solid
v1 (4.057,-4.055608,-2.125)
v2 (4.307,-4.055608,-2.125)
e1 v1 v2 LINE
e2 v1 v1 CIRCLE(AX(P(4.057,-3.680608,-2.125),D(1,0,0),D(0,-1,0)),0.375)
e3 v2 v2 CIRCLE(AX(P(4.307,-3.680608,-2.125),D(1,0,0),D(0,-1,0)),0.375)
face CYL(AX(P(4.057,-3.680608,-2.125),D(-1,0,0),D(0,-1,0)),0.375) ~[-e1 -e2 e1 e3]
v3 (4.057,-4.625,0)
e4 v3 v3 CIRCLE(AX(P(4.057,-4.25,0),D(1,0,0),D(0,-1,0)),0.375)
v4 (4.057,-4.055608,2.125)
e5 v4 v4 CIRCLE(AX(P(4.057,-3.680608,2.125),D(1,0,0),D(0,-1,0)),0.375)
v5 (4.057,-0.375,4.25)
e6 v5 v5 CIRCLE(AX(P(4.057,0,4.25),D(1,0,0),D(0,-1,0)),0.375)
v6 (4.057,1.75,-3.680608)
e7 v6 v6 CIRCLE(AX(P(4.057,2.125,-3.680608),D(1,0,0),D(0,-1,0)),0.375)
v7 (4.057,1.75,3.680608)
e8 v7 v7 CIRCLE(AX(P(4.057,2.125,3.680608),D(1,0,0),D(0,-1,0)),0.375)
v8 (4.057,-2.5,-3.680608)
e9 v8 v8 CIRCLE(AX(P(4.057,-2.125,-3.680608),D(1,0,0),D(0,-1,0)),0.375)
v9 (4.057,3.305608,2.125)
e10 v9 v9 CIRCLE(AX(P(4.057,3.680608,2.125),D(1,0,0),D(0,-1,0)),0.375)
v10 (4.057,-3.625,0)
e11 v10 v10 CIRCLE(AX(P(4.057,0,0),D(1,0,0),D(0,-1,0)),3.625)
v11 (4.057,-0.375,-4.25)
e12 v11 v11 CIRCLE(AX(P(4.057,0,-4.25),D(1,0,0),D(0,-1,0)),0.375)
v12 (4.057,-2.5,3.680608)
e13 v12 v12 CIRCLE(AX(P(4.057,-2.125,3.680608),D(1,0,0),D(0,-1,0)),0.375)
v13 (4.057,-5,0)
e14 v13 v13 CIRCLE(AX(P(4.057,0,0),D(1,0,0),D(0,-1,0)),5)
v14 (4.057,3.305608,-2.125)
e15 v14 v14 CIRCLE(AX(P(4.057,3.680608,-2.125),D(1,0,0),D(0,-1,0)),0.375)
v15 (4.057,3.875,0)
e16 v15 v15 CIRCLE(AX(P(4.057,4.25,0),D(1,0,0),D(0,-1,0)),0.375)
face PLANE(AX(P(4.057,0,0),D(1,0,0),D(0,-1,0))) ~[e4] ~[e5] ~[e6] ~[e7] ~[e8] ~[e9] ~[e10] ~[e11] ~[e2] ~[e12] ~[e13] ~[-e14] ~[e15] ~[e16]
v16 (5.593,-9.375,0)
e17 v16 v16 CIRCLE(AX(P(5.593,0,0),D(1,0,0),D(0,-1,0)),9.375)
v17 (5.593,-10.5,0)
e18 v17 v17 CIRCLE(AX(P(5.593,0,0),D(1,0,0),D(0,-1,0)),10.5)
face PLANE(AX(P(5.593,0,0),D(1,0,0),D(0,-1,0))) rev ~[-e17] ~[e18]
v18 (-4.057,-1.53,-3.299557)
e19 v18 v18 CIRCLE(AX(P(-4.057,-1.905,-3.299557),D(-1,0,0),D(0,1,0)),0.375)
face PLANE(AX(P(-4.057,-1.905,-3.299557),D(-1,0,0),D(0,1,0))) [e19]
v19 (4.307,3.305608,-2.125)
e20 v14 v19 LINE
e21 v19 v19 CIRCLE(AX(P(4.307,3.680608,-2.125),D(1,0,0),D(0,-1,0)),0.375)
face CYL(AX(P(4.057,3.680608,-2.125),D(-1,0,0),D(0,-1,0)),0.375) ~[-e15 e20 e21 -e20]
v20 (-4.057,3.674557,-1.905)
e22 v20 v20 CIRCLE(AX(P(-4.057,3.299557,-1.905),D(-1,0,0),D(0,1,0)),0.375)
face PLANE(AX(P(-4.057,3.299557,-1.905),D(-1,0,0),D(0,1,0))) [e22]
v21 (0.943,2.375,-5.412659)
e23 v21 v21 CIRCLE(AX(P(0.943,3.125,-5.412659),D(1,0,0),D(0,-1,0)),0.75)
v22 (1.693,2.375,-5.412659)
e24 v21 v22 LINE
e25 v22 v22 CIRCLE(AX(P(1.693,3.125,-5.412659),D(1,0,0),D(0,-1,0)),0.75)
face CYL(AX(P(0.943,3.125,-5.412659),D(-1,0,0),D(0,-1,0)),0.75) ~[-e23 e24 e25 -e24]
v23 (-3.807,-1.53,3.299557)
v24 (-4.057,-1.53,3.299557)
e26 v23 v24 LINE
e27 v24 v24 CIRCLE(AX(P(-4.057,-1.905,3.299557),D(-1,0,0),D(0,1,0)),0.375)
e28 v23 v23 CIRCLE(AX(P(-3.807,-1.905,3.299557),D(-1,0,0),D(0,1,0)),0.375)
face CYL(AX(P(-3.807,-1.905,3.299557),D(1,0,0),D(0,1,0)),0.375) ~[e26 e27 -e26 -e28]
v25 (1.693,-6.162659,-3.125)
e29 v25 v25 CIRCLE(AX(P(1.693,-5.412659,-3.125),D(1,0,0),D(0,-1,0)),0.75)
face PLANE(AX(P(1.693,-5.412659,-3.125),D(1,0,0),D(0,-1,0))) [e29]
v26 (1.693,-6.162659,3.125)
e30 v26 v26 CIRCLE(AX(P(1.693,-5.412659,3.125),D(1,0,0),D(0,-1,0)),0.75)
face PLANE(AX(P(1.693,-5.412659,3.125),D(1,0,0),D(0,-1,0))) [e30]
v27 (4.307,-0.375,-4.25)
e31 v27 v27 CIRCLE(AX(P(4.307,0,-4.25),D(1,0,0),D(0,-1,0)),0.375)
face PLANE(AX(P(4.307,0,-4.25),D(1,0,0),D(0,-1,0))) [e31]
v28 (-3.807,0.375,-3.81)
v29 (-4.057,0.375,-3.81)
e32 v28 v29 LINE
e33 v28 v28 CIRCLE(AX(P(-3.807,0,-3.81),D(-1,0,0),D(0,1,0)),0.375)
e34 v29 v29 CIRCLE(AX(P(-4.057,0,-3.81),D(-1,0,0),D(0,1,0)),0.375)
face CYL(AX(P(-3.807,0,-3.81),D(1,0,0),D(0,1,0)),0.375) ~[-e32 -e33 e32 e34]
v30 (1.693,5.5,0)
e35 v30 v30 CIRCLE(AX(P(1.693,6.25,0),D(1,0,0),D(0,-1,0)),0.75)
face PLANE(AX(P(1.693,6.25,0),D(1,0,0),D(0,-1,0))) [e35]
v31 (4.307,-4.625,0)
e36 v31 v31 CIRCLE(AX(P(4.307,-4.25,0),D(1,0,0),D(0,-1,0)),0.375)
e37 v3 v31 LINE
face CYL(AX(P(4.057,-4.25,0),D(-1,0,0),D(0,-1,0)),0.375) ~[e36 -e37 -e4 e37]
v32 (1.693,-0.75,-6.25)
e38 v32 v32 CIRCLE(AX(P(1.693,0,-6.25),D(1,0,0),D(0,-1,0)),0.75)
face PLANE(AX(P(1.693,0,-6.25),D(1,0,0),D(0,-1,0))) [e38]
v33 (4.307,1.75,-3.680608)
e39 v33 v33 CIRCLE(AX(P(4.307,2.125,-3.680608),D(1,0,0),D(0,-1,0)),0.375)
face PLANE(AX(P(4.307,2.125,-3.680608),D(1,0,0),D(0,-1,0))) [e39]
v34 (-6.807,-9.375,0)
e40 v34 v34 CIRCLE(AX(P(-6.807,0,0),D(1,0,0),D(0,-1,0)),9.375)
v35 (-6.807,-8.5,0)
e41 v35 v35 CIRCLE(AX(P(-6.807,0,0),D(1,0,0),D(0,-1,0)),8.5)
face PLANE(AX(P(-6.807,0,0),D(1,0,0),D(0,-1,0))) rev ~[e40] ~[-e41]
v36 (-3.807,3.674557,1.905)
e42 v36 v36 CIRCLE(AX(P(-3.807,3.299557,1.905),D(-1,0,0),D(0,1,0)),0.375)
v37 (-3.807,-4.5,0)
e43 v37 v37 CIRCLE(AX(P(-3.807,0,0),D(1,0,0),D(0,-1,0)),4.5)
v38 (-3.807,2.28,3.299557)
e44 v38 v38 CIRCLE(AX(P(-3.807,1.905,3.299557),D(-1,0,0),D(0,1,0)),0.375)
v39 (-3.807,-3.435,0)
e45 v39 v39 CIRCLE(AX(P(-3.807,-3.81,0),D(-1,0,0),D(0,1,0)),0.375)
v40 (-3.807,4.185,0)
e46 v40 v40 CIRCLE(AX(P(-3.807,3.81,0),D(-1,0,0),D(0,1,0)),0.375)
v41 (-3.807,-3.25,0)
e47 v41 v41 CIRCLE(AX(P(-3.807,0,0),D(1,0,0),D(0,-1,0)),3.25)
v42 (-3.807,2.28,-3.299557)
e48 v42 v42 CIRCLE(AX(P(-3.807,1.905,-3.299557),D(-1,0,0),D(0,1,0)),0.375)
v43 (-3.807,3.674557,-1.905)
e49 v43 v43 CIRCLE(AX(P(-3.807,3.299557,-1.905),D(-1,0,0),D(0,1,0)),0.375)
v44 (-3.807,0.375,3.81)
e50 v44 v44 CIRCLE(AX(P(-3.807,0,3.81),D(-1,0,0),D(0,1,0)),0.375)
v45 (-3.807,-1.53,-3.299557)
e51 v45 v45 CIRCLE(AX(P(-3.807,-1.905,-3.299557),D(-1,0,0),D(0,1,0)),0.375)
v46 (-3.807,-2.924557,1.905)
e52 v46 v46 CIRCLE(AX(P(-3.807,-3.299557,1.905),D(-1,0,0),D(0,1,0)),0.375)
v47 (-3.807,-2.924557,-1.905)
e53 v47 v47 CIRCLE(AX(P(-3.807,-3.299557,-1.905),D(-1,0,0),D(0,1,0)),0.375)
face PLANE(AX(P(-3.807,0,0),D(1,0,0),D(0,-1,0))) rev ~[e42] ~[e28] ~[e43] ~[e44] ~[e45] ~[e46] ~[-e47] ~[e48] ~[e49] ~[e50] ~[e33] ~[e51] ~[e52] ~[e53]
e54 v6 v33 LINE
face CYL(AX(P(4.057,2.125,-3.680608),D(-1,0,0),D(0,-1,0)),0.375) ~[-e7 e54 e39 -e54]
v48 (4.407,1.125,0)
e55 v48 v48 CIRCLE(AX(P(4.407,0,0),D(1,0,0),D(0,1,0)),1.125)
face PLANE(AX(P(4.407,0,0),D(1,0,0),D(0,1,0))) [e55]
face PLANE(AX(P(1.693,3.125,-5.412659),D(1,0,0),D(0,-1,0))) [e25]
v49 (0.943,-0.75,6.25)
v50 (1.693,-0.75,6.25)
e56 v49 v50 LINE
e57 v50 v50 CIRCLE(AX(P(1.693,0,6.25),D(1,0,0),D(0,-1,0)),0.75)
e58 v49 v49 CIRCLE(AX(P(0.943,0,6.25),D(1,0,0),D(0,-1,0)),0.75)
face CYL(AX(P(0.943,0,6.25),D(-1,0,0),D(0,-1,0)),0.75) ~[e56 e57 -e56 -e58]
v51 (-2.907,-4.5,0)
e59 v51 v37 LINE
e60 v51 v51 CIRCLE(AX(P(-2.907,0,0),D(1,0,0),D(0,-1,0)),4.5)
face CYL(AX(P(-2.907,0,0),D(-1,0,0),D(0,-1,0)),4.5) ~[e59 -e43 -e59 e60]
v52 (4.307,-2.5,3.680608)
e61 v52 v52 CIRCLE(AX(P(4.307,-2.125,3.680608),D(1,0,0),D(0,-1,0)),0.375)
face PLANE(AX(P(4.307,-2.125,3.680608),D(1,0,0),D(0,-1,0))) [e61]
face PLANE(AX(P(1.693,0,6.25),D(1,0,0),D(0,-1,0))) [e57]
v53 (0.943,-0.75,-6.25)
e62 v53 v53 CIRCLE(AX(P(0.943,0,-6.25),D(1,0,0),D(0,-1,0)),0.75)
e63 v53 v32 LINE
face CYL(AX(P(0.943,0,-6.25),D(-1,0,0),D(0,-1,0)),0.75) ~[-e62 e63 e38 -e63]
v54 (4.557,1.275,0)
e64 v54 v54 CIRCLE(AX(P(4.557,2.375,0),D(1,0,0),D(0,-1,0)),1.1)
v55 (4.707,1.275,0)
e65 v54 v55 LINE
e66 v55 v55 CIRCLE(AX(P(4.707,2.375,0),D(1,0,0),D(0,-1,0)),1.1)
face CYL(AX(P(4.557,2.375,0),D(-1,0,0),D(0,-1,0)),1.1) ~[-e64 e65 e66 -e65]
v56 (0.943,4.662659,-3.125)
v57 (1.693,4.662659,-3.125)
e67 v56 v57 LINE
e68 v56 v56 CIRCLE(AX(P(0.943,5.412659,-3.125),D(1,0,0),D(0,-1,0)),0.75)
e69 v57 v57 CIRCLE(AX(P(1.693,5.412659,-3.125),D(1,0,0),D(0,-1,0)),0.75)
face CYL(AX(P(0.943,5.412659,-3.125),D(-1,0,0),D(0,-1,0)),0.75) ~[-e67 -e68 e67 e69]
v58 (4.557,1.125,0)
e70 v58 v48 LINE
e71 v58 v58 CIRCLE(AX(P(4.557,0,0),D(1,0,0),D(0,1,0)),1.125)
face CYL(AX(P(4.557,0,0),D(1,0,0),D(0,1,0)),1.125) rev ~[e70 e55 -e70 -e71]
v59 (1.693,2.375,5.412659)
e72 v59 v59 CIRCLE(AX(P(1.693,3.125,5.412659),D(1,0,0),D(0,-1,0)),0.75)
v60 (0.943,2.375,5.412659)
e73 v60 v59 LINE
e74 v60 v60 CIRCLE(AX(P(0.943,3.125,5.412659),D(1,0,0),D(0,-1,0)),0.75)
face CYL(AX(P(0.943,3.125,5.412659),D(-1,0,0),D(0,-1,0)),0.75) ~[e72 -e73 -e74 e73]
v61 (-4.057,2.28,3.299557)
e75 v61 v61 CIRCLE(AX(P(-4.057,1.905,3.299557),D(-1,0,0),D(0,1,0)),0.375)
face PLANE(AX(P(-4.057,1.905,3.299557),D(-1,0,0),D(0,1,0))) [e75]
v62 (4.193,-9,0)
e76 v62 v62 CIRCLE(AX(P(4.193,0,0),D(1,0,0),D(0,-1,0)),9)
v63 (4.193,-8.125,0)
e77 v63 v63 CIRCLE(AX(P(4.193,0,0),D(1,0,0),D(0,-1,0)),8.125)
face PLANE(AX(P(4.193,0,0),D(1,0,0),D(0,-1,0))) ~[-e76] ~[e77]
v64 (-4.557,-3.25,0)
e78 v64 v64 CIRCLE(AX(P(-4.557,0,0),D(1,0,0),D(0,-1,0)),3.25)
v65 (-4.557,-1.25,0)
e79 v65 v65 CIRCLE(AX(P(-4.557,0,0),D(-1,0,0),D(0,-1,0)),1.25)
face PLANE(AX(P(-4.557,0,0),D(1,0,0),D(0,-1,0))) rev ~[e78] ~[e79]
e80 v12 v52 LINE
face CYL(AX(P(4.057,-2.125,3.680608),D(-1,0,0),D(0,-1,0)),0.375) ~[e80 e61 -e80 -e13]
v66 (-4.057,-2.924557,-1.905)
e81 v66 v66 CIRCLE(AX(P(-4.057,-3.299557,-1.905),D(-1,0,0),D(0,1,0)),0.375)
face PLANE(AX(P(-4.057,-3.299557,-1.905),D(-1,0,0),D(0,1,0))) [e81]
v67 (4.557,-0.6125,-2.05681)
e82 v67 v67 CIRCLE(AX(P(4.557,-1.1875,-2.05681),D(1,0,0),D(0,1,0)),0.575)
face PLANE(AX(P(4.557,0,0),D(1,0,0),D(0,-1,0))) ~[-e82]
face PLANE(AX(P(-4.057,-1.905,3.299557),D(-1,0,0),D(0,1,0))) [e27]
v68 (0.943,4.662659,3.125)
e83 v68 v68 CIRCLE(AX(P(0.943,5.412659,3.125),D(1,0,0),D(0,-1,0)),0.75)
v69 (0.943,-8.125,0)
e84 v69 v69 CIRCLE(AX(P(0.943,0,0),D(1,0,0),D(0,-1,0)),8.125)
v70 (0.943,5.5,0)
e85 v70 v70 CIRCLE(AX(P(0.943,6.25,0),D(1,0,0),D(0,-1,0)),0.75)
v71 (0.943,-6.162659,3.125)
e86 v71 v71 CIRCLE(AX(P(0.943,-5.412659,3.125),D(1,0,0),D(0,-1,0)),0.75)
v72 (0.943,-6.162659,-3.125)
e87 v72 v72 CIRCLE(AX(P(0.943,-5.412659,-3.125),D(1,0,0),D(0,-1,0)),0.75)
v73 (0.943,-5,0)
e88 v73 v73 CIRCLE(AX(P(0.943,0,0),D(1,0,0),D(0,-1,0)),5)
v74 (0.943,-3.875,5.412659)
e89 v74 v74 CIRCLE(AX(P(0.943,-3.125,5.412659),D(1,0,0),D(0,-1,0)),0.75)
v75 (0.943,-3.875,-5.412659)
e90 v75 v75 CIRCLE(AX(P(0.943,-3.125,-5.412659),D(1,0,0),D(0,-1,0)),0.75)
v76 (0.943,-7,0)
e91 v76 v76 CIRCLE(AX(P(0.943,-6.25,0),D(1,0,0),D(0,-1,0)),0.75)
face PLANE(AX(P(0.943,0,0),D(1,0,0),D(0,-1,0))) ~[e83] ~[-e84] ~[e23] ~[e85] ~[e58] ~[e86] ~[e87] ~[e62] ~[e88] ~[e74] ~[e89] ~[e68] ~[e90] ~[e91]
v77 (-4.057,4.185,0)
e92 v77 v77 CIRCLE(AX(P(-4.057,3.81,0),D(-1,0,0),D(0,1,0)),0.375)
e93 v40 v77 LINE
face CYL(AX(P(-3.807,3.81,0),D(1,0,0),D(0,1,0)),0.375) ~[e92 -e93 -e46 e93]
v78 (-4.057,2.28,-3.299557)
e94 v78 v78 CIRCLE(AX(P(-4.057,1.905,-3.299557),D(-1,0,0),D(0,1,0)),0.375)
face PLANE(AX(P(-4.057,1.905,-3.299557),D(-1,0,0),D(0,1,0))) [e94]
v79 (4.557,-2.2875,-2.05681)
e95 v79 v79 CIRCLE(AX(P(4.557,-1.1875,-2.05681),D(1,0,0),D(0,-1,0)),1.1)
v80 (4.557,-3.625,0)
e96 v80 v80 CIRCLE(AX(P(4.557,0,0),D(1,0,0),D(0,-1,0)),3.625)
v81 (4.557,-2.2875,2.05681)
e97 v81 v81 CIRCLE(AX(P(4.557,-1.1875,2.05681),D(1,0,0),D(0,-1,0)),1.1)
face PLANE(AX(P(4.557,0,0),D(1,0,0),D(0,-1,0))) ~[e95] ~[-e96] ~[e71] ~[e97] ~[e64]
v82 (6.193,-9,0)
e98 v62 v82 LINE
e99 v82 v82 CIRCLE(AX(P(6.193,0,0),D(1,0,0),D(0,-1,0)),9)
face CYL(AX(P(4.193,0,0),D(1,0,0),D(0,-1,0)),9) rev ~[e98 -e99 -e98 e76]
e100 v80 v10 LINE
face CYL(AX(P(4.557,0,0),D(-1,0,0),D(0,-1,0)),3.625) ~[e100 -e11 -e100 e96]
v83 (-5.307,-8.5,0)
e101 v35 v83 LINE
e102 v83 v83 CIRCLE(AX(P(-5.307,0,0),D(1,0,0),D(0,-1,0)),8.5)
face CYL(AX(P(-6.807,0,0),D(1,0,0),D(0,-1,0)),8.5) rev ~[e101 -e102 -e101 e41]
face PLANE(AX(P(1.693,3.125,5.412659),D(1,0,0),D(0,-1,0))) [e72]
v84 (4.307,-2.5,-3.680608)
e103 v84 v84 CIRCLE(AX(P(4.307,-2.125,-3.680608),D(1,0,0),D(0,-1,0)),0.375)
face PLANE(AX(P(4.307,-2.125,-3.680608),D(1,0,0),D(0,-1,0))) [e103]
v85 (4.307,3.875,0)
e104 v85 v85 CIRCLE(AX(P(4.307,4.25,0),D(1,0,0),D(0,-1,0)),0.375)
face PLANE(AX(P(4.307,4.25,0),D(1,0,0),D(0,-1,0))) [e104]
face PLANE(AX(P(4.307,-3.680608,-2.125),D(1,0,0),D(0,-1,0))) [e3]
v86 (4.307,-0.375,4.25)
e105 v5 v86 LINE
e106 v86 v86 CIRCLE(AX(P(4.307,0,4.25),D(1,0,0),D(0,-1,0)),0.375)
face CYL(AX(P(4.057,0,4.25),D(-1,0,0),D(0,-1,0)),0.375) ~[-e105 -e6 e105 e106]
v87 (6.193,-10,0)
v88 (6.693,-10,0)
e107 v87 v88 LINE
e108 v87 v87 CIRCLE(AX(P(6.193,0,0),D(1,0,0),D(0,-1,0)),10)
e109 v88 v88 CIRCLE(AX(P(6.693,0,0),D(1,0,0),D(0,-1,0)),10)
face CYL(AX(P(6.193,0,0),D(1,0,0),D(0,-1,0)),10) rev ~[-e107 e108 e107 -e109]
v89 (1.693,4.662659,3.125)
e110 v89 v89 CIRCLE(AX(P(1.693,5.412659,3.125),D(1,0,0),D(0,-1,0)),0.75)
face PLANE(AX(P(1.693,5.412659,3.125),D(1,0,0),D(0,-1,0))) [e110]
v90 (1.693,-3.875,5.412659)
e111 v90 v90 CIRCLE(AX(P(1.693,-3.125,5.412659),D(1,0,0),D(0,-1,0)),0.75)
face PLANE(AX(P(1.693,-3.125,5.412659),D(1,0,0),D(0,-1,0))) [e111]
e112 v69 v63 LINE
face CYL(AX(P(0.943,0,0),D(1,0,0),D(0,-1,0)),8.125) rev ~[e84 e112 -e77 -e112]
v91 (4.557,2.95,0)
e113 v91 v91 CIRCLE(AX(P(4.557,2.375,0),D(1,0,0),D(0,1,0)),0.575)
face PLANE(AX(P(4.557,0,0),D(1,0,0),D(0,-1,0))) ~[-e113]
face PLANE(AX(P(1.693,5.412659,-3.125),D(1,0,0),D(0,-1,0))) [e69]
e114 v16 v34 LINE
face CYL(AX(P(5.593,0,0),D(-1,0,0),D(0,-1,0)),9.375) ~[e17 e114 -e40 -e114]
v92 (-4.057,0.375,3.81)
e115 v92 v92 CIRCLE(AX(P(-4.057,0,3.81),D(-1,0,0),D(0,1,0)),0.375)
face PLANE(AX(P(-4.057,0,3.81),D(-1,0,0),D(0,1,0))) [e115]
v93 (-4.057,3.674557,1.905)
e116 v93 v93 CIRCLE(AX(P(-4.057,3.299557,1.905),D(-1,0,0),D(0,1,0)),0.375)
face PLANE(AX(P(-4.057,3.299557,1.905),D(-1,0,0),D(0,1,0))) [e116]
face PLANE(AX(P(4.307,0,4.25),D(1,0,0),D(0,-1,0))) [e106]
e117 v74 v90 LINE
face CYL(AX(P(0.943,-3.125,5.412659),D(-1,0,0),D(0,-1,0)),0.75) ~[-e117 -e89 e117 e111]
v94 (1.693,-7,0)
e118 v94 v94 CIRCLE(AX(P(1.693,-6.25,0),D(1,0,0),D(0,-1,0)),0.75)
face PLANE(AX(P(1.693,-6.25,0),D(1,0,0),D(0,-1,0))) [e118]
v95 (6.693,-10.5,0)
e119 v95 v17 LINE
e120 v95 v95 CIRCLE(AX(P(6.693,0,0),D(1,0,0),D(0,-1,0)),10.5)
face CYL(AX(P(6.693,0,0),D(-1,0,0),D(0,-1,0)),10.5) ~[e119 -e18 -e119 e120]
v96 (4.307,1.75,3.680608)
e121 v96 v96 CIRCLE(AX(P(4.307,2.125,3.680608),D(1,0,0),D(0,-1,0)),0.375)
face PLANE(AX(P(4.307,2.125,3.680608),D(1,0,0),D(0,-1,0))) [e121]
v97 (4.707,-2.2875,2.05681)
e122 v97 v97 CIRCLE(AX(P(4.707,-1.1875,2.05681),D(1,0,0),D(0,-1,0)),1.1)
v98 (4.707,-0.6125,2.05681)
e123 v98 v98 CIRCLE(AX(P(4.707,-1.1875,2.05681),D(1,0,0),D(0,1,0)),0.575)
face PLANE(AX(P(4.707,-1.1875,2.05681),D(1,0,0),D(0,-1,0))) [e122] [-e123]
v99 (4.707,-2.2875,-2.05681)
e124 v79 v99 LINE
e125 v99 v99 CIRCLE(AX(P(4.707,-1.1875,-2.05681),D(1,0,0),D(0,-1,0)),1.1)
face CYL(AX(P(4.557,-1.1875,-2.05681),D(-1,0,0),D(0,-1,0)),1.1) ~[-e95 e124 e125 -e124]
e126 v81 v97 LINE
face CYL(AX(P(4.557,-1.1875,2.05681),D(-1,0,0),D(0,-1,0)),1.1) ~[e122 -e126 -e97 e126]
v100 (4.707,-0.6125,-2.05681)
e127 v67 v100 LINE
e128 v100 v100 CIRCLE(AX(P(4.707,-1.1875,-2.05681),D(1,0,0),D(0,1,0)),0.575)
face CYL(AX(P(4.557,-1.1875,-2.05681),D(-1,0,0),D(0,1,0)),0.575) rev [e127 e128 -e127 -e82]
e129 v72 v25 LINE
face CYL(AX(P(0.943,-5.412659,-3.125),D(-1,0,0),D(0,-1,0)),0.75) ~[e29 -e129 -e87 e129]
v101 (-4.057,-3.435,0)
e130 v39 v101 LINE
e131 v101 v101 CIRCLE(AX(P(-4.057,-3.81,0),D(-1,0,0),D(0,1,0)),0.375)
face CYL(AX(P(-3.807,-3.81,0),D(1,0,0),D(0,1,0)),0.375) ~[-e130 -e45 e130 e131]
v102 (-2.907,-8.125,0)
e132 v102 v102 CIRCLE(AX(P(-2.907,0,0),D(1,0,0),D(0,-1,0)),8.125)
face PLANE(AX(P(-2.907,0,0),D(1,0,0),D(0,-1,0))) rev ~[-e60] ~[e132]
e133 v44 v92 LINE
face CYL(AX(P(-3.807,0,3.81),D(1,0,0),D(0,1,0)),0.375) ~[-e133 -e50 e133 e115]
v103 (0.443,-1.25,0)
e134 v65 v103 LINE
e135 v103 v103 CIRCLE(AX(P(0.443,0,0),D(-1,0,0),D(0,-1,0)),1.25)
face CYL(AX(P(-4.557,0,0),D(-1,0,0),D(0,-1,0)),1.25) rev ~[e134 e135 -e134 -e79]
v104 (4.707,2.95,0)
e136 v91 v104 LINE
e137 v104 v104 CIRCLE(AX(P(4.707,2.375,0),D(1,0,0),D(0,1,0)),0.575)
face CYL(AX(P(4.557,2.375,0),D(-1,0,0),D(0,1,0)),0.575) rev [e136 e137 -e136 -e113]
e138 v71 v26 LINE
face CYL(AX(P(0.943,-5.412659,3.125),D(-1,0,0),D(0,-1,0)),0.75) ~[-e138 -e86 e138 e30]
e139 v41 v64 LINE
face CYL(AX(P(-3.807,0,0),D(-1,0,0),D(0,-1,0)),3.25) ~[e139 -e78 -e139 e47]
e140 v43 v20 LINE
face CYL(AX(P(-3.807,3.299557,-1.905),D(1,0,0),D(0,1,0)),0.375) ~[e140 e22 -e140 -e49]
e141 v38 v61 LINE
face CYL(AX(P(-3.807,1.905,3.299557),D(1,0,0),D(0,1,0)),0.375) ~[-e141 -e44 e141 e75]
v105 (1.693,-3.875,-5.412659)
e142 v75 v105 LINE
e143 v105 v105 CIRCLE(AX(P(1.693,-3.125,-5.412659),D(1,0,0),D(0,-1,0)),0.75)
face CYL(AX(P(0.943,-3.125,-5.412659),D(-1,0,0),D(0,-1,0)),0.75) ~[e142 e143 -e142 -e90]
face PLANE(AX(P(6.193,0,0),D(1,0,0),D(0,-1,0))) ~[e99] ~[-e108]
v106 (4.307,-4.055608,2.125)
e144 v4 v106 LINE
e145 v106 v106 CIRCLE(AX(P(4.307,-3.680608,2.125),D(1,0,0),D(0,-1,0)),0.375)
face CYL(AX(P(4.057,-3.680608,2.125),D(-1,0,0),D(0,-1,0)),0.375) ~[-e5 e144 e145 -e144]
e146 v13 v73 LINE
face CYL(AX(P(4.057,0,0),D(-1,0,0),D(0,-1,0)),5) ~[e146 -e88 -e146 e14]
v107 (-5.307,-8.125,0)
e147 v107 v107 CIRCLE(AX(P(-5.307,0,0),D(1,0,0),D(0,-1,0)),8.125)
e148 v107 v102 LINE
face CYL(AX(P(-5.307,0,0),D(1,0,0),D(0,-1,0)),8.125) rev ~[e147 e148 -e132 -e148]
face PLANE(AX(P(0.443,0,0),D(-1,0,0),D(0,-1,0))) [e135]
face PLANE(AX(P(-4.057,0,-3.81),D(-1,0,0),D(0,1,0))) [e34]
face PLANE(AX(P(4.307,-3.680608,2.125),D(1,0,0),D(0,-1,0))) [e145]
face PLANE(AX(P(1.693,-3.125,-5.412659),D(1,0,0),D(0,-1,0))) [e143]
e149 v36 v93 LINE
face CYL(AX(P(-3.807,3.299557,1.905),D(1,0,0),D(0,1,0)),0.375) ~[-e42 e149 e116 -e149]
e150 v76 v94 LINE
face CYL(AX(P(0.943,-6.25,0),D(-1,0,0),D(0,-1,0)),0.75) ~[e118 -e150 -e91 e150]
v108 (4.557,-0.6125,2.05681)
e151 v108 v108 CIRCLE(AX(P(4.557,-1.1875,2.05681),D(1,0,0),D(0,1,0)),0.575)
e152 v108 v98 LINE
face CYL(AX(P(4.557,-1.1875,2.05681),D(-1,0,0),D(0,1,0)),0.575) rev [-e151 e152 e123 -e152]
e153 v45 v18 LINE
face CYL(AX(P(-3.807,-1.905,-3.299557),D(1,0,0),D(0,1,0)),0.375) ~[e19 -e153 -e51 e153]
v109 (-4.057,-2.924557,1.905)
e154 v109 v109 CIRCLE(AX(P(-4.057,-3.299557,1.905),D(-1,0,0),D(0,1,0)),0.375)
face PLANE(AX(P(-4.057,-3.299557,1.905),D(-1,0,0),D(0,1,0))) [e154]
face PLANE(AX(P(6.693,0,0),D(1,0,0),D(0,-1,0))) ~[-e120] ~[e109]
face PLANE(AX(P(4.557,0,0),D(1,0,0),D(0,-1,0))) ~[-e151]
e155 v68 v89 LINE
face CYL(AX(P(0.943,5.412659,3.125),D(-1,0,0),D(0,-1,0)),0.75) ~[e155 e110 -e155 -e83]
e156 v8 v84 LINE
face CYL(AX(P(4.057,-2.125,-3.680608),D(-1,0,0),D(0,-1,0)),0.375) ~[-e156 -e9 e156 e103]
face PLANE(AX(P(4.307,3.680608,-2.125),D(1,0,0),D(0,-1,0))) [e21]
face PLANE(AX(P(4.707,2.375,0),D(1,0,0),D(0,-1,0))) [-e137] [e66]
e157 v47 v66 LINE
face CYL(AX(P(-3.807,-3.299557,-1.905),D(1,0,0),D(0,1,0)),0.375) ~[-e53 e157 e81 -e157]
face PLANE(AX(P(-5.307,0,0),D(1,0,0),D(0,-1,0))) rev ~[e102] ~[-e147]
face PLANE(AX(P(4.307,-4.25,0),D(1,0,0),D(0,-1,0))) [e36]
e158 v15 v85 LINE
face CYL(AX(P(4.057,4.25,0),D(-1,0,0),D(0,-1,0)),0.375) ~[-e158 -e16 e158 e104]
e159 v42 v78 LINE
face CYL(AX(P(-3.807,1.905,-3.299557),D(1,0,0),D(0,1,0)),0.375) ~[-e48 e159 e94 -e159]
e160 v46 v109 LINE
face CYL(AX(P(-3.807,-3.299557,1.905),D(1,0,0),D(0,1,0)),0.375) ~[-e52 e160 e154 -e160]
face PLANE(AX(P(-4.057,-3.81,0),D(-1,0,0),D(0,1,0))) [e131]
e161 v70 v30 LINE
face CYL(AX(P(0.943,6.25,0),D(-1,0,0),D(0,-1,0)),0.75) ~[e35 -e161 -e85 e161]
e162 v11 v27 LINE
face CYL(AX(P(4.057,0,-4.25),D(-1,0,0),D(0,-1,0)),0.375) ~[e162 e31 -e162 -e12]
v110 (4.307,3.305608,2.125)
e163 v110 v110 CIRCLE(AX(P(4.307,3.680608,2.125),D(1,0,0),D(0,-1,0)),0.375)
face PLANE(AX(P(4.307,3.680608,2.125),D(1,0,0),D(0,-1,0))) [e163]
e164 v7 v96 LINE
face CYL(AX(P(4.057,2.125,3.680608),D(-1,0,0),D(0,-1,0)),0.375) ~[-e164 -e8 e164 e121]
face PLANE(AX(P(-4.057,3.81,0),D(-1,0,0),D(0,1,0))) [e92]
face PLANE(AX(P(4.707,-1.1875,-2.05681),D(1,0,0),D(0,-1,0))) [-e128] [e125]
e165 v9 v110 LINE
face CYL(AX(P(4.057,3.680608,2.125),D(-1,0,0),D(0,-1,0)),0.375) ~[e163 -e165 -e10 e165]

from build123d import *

# Parameters (mm, degrees)
SKETCH2_R           = 0.75
BOSS_EXTRUDE1_DEPTH = 0.75
SKETCH3_R           = 0.375
BOSS_EXTRUDE2_DEPTH = 0.25
SKETCH4_R           = 1.125
CUT_EXTRUDE1_DEPTH  = 0.15
SKETCH5_R           = 1.1
SKETCH5_R_2         = 0.575
BOSS_EXTRUDE3_DEPTH = 0.15
SKETCH6_R           = 0.375
BOSS_EXTRUDE4_DEPTH = 0.25
SKETCH7_R           = 1.25
CUT_EXTRUDE2_DEPTH  = 5


with BuildPart() as part:
    # Sketch1 → Revolve1 (revolve)
    with BuildSketch(Plane.XY):
        Polygon((0, 9.375), (-6.807, 9.375), (-6.807, 8.5), (-5.307, 8.5), (-5.307, 8.125), (-2.907, 8.125), (-2.907, 4.5), (-3.807, 4.5), (-3.807, 3.25), (-4.557, 3.25), (-4.557, 0), (4.557, 0), (4.557, 3.625), (4.057, 3.625), (4.057, 5), (0.943, 5), (0.943, 8.125), (4.193, 8.125), (4.193, 9), (6.193, 9), (6.193, 10), (6.693, 10), (6.693, 10.5), (5.593, 10.5), (5.593, 9.375), align=None)
    revolve(axis=Axis((-4.557, 0, 0), (1, 0, 0)))

    # Sketch2 → Boss-Extrude1 (add)
    with BuildSketch(Plane(origin=(0.943, 0, 0), x_dir=(0, 0, -1), z_dir=(1, 0, 0))):
        with Locations((0, 6.25)):
            Circle(SKETCH2_R)
        with Locations((3.125, 5.412658774)):
            Circle(SKETCH2_R)
        with Locations((5.412658774, 3.125)):
            Circle(SKETCH2_R)
        with Locations((6.25, 0)):
            Circle(SKETCH2_R)
        with Locations((5.412658774, -3.125)):
            Circle(SKETCH2_R)
        with Locations((3.125, -5.412658774)):
            Circle(SKETCH2_R)
        with Locations((0, -6.25)):
            Circle(SKETCH2_R)
        with Locations((-3.125, -5.412658774)):
            Circle(SKETCH2_R)
        with Locations((-5.412658774, -3.125)):
            Circle(SKETCH2_R)
        with Locations((-6.25, 0)):
            Circle(SKETCH2_R)
        with Locations((-5.412658774, 3.125)):
            Circle(SKETCH2_R)
        with Locations((-3.125, 5.412658774)):
            Circle(SKETCH2_R)
    extrude(amount=BOSS_EXTRUDE1_DEPTH)

    # Sketch3 → Boss-Extrude2 (add)
    with BuildSketch(Plane(origin=(4.057, 0, 0), x_dir=(0, 0, -1), z_dir=(1, 0, 0))):
        with Locations((0, 4.25)):
            Circle(SKETCH3_R)
        with Locations((2.125, 3.680607966)):
            Circle(SKETCH3_R)
        with Locations((3.680607966, 2.125)):
            Circle(SKETCH3_R)
        with Locations((4.25, 0)):
            Circle(SKETCH3_R)
        with Locations((3.680607966, -2.125)):
            Circle(SKETCH3_R)
        with Locations((2.125, -3.680607966)):
            Circle(SKETCH3_R)
        with Locations((0, -4.25)):
            Circle(SKETCH3_R)
        with Locations((-2.125, -3.680607966)):
            Circle(SKETCH3_R)
        with Locations((-3.680607966, -2.125)):
            Circle(SKETCH3_R)
        with Locations((-4.25, 0)):
            Circle(SKETCH3_R)
        with Locations((-3.680607966, 2.125)):
            Circle(SKETCH3_R)
        with Locations((-2.125, 3.680607966)):
            Circle(SKETCH3_R)
    extrude(amount=BOSS_EXTRUDE2_DEPTH)

    # Sketch4 → Cut-Extrude1 (cut)
    with BuildSketch(Plane(origin=(4.557, 0, 0), x_dir=(0, 0, -1), z_dir=(1, 0, 0))):
        Circle(SKETCH4_R)
    extrude(amount=-CUT_EXTRUDE1_DEPTH, mode=Mode.SUBTRACT)

    # Sketch5 → Boss-Extrude3 (add)
    # profile 1 of 3: a face of its own
    with BuildSketch(Plane(origin=(4.557, 0, 0), x_dir=(0, 0, -1), z_dir=(1, 0, 0))):
        with Locations((0, 2.375)):
            Circle(SKETCH5_R)
        with Locations((0, 2.375)):
            Circle(SKETCH5_R_2, mode=Mode.SUBTRACT)
    # profile 2 of 3: a face of its own
    with BuildSketch(Plane(origin=(4.557, 0, 0), x_dir=(0, 0, -1), z_dir=(1, 0, 0))):
        with Locations((2.056810334, -1.1875)):
            Circle(SKETCH5_R)
        with Locations((2.056810334, -1.1875)):
            Circle(SKETCH5_R_2, mode=Mode.SUBTRACT)
    # profile 3 of 3: a face of its own
    with BuildSketch(Plane(origin=(4.557, 0, 0), x_dir=(0, 0, -1), z_dir=(1, 0, 0))):
        with Locations((-2.056810334, -1.1875)):
            Circle(SKETCH5_R)
        with Locations((-2.056810334, -1.1875)):
            Circle(SKETCH5_R_2, mode=Mode.SUBTRACT)
    extrude(amount=BOSS_EXTRUDE3_DEPTH)

    # Sketch6 → Boss-Extrude4 (add)
    with BuildSketch(Plane.ZY.offset(3.807)):
        with Locations((0, 3.81)):
            Circle(SKETCH6_R)
        with Locations((1.905, 3.299556788)):
            Circle(SKETCH6_R)
        with Locations((3.299556788, 1.905)):
            Circle(SKETCH6_R)
        with Locations((3.81, 0)):
            Circle(SKETCH6_R)
        with Locations((3.299556788, -1.905)):
            Circle(SKETCH6_R)
        with Locations((1.905, -3.299556788)):
            Circle(SKETCH6_R)
        with Locations((0, -3.81)):
            Circle(SKETCH6_R)
        with Locations((-1.905, -3.299556788)):
            Circle(SKETCH6_R)
        with Locations((-3.299556788, -1.905)):
            Circle(SKETCH6_R)
        with Locations((-3.81, 0)):
            Circle(SKETCH6_R)
        with Locations((-3.299556788, 1.905)):
            Circle(SKETCH6_R)
        with Locations((-1.905, 3.299556788)):
            Circle(SKETCH6_R)
    extrude(amount=BOSS_EXTRUDE4_DEPTH)

    # Sketch7 → Cut-Extrude2 (cut)
    with BuildSketch(Plane.ZY.offset(4.557)):
        Circle(SKETCH7_R)
    extrude(amount=-CUT_EXTRUDE2_DEPTH, mode=Mode.SUBTRACT)


solid = part.part
